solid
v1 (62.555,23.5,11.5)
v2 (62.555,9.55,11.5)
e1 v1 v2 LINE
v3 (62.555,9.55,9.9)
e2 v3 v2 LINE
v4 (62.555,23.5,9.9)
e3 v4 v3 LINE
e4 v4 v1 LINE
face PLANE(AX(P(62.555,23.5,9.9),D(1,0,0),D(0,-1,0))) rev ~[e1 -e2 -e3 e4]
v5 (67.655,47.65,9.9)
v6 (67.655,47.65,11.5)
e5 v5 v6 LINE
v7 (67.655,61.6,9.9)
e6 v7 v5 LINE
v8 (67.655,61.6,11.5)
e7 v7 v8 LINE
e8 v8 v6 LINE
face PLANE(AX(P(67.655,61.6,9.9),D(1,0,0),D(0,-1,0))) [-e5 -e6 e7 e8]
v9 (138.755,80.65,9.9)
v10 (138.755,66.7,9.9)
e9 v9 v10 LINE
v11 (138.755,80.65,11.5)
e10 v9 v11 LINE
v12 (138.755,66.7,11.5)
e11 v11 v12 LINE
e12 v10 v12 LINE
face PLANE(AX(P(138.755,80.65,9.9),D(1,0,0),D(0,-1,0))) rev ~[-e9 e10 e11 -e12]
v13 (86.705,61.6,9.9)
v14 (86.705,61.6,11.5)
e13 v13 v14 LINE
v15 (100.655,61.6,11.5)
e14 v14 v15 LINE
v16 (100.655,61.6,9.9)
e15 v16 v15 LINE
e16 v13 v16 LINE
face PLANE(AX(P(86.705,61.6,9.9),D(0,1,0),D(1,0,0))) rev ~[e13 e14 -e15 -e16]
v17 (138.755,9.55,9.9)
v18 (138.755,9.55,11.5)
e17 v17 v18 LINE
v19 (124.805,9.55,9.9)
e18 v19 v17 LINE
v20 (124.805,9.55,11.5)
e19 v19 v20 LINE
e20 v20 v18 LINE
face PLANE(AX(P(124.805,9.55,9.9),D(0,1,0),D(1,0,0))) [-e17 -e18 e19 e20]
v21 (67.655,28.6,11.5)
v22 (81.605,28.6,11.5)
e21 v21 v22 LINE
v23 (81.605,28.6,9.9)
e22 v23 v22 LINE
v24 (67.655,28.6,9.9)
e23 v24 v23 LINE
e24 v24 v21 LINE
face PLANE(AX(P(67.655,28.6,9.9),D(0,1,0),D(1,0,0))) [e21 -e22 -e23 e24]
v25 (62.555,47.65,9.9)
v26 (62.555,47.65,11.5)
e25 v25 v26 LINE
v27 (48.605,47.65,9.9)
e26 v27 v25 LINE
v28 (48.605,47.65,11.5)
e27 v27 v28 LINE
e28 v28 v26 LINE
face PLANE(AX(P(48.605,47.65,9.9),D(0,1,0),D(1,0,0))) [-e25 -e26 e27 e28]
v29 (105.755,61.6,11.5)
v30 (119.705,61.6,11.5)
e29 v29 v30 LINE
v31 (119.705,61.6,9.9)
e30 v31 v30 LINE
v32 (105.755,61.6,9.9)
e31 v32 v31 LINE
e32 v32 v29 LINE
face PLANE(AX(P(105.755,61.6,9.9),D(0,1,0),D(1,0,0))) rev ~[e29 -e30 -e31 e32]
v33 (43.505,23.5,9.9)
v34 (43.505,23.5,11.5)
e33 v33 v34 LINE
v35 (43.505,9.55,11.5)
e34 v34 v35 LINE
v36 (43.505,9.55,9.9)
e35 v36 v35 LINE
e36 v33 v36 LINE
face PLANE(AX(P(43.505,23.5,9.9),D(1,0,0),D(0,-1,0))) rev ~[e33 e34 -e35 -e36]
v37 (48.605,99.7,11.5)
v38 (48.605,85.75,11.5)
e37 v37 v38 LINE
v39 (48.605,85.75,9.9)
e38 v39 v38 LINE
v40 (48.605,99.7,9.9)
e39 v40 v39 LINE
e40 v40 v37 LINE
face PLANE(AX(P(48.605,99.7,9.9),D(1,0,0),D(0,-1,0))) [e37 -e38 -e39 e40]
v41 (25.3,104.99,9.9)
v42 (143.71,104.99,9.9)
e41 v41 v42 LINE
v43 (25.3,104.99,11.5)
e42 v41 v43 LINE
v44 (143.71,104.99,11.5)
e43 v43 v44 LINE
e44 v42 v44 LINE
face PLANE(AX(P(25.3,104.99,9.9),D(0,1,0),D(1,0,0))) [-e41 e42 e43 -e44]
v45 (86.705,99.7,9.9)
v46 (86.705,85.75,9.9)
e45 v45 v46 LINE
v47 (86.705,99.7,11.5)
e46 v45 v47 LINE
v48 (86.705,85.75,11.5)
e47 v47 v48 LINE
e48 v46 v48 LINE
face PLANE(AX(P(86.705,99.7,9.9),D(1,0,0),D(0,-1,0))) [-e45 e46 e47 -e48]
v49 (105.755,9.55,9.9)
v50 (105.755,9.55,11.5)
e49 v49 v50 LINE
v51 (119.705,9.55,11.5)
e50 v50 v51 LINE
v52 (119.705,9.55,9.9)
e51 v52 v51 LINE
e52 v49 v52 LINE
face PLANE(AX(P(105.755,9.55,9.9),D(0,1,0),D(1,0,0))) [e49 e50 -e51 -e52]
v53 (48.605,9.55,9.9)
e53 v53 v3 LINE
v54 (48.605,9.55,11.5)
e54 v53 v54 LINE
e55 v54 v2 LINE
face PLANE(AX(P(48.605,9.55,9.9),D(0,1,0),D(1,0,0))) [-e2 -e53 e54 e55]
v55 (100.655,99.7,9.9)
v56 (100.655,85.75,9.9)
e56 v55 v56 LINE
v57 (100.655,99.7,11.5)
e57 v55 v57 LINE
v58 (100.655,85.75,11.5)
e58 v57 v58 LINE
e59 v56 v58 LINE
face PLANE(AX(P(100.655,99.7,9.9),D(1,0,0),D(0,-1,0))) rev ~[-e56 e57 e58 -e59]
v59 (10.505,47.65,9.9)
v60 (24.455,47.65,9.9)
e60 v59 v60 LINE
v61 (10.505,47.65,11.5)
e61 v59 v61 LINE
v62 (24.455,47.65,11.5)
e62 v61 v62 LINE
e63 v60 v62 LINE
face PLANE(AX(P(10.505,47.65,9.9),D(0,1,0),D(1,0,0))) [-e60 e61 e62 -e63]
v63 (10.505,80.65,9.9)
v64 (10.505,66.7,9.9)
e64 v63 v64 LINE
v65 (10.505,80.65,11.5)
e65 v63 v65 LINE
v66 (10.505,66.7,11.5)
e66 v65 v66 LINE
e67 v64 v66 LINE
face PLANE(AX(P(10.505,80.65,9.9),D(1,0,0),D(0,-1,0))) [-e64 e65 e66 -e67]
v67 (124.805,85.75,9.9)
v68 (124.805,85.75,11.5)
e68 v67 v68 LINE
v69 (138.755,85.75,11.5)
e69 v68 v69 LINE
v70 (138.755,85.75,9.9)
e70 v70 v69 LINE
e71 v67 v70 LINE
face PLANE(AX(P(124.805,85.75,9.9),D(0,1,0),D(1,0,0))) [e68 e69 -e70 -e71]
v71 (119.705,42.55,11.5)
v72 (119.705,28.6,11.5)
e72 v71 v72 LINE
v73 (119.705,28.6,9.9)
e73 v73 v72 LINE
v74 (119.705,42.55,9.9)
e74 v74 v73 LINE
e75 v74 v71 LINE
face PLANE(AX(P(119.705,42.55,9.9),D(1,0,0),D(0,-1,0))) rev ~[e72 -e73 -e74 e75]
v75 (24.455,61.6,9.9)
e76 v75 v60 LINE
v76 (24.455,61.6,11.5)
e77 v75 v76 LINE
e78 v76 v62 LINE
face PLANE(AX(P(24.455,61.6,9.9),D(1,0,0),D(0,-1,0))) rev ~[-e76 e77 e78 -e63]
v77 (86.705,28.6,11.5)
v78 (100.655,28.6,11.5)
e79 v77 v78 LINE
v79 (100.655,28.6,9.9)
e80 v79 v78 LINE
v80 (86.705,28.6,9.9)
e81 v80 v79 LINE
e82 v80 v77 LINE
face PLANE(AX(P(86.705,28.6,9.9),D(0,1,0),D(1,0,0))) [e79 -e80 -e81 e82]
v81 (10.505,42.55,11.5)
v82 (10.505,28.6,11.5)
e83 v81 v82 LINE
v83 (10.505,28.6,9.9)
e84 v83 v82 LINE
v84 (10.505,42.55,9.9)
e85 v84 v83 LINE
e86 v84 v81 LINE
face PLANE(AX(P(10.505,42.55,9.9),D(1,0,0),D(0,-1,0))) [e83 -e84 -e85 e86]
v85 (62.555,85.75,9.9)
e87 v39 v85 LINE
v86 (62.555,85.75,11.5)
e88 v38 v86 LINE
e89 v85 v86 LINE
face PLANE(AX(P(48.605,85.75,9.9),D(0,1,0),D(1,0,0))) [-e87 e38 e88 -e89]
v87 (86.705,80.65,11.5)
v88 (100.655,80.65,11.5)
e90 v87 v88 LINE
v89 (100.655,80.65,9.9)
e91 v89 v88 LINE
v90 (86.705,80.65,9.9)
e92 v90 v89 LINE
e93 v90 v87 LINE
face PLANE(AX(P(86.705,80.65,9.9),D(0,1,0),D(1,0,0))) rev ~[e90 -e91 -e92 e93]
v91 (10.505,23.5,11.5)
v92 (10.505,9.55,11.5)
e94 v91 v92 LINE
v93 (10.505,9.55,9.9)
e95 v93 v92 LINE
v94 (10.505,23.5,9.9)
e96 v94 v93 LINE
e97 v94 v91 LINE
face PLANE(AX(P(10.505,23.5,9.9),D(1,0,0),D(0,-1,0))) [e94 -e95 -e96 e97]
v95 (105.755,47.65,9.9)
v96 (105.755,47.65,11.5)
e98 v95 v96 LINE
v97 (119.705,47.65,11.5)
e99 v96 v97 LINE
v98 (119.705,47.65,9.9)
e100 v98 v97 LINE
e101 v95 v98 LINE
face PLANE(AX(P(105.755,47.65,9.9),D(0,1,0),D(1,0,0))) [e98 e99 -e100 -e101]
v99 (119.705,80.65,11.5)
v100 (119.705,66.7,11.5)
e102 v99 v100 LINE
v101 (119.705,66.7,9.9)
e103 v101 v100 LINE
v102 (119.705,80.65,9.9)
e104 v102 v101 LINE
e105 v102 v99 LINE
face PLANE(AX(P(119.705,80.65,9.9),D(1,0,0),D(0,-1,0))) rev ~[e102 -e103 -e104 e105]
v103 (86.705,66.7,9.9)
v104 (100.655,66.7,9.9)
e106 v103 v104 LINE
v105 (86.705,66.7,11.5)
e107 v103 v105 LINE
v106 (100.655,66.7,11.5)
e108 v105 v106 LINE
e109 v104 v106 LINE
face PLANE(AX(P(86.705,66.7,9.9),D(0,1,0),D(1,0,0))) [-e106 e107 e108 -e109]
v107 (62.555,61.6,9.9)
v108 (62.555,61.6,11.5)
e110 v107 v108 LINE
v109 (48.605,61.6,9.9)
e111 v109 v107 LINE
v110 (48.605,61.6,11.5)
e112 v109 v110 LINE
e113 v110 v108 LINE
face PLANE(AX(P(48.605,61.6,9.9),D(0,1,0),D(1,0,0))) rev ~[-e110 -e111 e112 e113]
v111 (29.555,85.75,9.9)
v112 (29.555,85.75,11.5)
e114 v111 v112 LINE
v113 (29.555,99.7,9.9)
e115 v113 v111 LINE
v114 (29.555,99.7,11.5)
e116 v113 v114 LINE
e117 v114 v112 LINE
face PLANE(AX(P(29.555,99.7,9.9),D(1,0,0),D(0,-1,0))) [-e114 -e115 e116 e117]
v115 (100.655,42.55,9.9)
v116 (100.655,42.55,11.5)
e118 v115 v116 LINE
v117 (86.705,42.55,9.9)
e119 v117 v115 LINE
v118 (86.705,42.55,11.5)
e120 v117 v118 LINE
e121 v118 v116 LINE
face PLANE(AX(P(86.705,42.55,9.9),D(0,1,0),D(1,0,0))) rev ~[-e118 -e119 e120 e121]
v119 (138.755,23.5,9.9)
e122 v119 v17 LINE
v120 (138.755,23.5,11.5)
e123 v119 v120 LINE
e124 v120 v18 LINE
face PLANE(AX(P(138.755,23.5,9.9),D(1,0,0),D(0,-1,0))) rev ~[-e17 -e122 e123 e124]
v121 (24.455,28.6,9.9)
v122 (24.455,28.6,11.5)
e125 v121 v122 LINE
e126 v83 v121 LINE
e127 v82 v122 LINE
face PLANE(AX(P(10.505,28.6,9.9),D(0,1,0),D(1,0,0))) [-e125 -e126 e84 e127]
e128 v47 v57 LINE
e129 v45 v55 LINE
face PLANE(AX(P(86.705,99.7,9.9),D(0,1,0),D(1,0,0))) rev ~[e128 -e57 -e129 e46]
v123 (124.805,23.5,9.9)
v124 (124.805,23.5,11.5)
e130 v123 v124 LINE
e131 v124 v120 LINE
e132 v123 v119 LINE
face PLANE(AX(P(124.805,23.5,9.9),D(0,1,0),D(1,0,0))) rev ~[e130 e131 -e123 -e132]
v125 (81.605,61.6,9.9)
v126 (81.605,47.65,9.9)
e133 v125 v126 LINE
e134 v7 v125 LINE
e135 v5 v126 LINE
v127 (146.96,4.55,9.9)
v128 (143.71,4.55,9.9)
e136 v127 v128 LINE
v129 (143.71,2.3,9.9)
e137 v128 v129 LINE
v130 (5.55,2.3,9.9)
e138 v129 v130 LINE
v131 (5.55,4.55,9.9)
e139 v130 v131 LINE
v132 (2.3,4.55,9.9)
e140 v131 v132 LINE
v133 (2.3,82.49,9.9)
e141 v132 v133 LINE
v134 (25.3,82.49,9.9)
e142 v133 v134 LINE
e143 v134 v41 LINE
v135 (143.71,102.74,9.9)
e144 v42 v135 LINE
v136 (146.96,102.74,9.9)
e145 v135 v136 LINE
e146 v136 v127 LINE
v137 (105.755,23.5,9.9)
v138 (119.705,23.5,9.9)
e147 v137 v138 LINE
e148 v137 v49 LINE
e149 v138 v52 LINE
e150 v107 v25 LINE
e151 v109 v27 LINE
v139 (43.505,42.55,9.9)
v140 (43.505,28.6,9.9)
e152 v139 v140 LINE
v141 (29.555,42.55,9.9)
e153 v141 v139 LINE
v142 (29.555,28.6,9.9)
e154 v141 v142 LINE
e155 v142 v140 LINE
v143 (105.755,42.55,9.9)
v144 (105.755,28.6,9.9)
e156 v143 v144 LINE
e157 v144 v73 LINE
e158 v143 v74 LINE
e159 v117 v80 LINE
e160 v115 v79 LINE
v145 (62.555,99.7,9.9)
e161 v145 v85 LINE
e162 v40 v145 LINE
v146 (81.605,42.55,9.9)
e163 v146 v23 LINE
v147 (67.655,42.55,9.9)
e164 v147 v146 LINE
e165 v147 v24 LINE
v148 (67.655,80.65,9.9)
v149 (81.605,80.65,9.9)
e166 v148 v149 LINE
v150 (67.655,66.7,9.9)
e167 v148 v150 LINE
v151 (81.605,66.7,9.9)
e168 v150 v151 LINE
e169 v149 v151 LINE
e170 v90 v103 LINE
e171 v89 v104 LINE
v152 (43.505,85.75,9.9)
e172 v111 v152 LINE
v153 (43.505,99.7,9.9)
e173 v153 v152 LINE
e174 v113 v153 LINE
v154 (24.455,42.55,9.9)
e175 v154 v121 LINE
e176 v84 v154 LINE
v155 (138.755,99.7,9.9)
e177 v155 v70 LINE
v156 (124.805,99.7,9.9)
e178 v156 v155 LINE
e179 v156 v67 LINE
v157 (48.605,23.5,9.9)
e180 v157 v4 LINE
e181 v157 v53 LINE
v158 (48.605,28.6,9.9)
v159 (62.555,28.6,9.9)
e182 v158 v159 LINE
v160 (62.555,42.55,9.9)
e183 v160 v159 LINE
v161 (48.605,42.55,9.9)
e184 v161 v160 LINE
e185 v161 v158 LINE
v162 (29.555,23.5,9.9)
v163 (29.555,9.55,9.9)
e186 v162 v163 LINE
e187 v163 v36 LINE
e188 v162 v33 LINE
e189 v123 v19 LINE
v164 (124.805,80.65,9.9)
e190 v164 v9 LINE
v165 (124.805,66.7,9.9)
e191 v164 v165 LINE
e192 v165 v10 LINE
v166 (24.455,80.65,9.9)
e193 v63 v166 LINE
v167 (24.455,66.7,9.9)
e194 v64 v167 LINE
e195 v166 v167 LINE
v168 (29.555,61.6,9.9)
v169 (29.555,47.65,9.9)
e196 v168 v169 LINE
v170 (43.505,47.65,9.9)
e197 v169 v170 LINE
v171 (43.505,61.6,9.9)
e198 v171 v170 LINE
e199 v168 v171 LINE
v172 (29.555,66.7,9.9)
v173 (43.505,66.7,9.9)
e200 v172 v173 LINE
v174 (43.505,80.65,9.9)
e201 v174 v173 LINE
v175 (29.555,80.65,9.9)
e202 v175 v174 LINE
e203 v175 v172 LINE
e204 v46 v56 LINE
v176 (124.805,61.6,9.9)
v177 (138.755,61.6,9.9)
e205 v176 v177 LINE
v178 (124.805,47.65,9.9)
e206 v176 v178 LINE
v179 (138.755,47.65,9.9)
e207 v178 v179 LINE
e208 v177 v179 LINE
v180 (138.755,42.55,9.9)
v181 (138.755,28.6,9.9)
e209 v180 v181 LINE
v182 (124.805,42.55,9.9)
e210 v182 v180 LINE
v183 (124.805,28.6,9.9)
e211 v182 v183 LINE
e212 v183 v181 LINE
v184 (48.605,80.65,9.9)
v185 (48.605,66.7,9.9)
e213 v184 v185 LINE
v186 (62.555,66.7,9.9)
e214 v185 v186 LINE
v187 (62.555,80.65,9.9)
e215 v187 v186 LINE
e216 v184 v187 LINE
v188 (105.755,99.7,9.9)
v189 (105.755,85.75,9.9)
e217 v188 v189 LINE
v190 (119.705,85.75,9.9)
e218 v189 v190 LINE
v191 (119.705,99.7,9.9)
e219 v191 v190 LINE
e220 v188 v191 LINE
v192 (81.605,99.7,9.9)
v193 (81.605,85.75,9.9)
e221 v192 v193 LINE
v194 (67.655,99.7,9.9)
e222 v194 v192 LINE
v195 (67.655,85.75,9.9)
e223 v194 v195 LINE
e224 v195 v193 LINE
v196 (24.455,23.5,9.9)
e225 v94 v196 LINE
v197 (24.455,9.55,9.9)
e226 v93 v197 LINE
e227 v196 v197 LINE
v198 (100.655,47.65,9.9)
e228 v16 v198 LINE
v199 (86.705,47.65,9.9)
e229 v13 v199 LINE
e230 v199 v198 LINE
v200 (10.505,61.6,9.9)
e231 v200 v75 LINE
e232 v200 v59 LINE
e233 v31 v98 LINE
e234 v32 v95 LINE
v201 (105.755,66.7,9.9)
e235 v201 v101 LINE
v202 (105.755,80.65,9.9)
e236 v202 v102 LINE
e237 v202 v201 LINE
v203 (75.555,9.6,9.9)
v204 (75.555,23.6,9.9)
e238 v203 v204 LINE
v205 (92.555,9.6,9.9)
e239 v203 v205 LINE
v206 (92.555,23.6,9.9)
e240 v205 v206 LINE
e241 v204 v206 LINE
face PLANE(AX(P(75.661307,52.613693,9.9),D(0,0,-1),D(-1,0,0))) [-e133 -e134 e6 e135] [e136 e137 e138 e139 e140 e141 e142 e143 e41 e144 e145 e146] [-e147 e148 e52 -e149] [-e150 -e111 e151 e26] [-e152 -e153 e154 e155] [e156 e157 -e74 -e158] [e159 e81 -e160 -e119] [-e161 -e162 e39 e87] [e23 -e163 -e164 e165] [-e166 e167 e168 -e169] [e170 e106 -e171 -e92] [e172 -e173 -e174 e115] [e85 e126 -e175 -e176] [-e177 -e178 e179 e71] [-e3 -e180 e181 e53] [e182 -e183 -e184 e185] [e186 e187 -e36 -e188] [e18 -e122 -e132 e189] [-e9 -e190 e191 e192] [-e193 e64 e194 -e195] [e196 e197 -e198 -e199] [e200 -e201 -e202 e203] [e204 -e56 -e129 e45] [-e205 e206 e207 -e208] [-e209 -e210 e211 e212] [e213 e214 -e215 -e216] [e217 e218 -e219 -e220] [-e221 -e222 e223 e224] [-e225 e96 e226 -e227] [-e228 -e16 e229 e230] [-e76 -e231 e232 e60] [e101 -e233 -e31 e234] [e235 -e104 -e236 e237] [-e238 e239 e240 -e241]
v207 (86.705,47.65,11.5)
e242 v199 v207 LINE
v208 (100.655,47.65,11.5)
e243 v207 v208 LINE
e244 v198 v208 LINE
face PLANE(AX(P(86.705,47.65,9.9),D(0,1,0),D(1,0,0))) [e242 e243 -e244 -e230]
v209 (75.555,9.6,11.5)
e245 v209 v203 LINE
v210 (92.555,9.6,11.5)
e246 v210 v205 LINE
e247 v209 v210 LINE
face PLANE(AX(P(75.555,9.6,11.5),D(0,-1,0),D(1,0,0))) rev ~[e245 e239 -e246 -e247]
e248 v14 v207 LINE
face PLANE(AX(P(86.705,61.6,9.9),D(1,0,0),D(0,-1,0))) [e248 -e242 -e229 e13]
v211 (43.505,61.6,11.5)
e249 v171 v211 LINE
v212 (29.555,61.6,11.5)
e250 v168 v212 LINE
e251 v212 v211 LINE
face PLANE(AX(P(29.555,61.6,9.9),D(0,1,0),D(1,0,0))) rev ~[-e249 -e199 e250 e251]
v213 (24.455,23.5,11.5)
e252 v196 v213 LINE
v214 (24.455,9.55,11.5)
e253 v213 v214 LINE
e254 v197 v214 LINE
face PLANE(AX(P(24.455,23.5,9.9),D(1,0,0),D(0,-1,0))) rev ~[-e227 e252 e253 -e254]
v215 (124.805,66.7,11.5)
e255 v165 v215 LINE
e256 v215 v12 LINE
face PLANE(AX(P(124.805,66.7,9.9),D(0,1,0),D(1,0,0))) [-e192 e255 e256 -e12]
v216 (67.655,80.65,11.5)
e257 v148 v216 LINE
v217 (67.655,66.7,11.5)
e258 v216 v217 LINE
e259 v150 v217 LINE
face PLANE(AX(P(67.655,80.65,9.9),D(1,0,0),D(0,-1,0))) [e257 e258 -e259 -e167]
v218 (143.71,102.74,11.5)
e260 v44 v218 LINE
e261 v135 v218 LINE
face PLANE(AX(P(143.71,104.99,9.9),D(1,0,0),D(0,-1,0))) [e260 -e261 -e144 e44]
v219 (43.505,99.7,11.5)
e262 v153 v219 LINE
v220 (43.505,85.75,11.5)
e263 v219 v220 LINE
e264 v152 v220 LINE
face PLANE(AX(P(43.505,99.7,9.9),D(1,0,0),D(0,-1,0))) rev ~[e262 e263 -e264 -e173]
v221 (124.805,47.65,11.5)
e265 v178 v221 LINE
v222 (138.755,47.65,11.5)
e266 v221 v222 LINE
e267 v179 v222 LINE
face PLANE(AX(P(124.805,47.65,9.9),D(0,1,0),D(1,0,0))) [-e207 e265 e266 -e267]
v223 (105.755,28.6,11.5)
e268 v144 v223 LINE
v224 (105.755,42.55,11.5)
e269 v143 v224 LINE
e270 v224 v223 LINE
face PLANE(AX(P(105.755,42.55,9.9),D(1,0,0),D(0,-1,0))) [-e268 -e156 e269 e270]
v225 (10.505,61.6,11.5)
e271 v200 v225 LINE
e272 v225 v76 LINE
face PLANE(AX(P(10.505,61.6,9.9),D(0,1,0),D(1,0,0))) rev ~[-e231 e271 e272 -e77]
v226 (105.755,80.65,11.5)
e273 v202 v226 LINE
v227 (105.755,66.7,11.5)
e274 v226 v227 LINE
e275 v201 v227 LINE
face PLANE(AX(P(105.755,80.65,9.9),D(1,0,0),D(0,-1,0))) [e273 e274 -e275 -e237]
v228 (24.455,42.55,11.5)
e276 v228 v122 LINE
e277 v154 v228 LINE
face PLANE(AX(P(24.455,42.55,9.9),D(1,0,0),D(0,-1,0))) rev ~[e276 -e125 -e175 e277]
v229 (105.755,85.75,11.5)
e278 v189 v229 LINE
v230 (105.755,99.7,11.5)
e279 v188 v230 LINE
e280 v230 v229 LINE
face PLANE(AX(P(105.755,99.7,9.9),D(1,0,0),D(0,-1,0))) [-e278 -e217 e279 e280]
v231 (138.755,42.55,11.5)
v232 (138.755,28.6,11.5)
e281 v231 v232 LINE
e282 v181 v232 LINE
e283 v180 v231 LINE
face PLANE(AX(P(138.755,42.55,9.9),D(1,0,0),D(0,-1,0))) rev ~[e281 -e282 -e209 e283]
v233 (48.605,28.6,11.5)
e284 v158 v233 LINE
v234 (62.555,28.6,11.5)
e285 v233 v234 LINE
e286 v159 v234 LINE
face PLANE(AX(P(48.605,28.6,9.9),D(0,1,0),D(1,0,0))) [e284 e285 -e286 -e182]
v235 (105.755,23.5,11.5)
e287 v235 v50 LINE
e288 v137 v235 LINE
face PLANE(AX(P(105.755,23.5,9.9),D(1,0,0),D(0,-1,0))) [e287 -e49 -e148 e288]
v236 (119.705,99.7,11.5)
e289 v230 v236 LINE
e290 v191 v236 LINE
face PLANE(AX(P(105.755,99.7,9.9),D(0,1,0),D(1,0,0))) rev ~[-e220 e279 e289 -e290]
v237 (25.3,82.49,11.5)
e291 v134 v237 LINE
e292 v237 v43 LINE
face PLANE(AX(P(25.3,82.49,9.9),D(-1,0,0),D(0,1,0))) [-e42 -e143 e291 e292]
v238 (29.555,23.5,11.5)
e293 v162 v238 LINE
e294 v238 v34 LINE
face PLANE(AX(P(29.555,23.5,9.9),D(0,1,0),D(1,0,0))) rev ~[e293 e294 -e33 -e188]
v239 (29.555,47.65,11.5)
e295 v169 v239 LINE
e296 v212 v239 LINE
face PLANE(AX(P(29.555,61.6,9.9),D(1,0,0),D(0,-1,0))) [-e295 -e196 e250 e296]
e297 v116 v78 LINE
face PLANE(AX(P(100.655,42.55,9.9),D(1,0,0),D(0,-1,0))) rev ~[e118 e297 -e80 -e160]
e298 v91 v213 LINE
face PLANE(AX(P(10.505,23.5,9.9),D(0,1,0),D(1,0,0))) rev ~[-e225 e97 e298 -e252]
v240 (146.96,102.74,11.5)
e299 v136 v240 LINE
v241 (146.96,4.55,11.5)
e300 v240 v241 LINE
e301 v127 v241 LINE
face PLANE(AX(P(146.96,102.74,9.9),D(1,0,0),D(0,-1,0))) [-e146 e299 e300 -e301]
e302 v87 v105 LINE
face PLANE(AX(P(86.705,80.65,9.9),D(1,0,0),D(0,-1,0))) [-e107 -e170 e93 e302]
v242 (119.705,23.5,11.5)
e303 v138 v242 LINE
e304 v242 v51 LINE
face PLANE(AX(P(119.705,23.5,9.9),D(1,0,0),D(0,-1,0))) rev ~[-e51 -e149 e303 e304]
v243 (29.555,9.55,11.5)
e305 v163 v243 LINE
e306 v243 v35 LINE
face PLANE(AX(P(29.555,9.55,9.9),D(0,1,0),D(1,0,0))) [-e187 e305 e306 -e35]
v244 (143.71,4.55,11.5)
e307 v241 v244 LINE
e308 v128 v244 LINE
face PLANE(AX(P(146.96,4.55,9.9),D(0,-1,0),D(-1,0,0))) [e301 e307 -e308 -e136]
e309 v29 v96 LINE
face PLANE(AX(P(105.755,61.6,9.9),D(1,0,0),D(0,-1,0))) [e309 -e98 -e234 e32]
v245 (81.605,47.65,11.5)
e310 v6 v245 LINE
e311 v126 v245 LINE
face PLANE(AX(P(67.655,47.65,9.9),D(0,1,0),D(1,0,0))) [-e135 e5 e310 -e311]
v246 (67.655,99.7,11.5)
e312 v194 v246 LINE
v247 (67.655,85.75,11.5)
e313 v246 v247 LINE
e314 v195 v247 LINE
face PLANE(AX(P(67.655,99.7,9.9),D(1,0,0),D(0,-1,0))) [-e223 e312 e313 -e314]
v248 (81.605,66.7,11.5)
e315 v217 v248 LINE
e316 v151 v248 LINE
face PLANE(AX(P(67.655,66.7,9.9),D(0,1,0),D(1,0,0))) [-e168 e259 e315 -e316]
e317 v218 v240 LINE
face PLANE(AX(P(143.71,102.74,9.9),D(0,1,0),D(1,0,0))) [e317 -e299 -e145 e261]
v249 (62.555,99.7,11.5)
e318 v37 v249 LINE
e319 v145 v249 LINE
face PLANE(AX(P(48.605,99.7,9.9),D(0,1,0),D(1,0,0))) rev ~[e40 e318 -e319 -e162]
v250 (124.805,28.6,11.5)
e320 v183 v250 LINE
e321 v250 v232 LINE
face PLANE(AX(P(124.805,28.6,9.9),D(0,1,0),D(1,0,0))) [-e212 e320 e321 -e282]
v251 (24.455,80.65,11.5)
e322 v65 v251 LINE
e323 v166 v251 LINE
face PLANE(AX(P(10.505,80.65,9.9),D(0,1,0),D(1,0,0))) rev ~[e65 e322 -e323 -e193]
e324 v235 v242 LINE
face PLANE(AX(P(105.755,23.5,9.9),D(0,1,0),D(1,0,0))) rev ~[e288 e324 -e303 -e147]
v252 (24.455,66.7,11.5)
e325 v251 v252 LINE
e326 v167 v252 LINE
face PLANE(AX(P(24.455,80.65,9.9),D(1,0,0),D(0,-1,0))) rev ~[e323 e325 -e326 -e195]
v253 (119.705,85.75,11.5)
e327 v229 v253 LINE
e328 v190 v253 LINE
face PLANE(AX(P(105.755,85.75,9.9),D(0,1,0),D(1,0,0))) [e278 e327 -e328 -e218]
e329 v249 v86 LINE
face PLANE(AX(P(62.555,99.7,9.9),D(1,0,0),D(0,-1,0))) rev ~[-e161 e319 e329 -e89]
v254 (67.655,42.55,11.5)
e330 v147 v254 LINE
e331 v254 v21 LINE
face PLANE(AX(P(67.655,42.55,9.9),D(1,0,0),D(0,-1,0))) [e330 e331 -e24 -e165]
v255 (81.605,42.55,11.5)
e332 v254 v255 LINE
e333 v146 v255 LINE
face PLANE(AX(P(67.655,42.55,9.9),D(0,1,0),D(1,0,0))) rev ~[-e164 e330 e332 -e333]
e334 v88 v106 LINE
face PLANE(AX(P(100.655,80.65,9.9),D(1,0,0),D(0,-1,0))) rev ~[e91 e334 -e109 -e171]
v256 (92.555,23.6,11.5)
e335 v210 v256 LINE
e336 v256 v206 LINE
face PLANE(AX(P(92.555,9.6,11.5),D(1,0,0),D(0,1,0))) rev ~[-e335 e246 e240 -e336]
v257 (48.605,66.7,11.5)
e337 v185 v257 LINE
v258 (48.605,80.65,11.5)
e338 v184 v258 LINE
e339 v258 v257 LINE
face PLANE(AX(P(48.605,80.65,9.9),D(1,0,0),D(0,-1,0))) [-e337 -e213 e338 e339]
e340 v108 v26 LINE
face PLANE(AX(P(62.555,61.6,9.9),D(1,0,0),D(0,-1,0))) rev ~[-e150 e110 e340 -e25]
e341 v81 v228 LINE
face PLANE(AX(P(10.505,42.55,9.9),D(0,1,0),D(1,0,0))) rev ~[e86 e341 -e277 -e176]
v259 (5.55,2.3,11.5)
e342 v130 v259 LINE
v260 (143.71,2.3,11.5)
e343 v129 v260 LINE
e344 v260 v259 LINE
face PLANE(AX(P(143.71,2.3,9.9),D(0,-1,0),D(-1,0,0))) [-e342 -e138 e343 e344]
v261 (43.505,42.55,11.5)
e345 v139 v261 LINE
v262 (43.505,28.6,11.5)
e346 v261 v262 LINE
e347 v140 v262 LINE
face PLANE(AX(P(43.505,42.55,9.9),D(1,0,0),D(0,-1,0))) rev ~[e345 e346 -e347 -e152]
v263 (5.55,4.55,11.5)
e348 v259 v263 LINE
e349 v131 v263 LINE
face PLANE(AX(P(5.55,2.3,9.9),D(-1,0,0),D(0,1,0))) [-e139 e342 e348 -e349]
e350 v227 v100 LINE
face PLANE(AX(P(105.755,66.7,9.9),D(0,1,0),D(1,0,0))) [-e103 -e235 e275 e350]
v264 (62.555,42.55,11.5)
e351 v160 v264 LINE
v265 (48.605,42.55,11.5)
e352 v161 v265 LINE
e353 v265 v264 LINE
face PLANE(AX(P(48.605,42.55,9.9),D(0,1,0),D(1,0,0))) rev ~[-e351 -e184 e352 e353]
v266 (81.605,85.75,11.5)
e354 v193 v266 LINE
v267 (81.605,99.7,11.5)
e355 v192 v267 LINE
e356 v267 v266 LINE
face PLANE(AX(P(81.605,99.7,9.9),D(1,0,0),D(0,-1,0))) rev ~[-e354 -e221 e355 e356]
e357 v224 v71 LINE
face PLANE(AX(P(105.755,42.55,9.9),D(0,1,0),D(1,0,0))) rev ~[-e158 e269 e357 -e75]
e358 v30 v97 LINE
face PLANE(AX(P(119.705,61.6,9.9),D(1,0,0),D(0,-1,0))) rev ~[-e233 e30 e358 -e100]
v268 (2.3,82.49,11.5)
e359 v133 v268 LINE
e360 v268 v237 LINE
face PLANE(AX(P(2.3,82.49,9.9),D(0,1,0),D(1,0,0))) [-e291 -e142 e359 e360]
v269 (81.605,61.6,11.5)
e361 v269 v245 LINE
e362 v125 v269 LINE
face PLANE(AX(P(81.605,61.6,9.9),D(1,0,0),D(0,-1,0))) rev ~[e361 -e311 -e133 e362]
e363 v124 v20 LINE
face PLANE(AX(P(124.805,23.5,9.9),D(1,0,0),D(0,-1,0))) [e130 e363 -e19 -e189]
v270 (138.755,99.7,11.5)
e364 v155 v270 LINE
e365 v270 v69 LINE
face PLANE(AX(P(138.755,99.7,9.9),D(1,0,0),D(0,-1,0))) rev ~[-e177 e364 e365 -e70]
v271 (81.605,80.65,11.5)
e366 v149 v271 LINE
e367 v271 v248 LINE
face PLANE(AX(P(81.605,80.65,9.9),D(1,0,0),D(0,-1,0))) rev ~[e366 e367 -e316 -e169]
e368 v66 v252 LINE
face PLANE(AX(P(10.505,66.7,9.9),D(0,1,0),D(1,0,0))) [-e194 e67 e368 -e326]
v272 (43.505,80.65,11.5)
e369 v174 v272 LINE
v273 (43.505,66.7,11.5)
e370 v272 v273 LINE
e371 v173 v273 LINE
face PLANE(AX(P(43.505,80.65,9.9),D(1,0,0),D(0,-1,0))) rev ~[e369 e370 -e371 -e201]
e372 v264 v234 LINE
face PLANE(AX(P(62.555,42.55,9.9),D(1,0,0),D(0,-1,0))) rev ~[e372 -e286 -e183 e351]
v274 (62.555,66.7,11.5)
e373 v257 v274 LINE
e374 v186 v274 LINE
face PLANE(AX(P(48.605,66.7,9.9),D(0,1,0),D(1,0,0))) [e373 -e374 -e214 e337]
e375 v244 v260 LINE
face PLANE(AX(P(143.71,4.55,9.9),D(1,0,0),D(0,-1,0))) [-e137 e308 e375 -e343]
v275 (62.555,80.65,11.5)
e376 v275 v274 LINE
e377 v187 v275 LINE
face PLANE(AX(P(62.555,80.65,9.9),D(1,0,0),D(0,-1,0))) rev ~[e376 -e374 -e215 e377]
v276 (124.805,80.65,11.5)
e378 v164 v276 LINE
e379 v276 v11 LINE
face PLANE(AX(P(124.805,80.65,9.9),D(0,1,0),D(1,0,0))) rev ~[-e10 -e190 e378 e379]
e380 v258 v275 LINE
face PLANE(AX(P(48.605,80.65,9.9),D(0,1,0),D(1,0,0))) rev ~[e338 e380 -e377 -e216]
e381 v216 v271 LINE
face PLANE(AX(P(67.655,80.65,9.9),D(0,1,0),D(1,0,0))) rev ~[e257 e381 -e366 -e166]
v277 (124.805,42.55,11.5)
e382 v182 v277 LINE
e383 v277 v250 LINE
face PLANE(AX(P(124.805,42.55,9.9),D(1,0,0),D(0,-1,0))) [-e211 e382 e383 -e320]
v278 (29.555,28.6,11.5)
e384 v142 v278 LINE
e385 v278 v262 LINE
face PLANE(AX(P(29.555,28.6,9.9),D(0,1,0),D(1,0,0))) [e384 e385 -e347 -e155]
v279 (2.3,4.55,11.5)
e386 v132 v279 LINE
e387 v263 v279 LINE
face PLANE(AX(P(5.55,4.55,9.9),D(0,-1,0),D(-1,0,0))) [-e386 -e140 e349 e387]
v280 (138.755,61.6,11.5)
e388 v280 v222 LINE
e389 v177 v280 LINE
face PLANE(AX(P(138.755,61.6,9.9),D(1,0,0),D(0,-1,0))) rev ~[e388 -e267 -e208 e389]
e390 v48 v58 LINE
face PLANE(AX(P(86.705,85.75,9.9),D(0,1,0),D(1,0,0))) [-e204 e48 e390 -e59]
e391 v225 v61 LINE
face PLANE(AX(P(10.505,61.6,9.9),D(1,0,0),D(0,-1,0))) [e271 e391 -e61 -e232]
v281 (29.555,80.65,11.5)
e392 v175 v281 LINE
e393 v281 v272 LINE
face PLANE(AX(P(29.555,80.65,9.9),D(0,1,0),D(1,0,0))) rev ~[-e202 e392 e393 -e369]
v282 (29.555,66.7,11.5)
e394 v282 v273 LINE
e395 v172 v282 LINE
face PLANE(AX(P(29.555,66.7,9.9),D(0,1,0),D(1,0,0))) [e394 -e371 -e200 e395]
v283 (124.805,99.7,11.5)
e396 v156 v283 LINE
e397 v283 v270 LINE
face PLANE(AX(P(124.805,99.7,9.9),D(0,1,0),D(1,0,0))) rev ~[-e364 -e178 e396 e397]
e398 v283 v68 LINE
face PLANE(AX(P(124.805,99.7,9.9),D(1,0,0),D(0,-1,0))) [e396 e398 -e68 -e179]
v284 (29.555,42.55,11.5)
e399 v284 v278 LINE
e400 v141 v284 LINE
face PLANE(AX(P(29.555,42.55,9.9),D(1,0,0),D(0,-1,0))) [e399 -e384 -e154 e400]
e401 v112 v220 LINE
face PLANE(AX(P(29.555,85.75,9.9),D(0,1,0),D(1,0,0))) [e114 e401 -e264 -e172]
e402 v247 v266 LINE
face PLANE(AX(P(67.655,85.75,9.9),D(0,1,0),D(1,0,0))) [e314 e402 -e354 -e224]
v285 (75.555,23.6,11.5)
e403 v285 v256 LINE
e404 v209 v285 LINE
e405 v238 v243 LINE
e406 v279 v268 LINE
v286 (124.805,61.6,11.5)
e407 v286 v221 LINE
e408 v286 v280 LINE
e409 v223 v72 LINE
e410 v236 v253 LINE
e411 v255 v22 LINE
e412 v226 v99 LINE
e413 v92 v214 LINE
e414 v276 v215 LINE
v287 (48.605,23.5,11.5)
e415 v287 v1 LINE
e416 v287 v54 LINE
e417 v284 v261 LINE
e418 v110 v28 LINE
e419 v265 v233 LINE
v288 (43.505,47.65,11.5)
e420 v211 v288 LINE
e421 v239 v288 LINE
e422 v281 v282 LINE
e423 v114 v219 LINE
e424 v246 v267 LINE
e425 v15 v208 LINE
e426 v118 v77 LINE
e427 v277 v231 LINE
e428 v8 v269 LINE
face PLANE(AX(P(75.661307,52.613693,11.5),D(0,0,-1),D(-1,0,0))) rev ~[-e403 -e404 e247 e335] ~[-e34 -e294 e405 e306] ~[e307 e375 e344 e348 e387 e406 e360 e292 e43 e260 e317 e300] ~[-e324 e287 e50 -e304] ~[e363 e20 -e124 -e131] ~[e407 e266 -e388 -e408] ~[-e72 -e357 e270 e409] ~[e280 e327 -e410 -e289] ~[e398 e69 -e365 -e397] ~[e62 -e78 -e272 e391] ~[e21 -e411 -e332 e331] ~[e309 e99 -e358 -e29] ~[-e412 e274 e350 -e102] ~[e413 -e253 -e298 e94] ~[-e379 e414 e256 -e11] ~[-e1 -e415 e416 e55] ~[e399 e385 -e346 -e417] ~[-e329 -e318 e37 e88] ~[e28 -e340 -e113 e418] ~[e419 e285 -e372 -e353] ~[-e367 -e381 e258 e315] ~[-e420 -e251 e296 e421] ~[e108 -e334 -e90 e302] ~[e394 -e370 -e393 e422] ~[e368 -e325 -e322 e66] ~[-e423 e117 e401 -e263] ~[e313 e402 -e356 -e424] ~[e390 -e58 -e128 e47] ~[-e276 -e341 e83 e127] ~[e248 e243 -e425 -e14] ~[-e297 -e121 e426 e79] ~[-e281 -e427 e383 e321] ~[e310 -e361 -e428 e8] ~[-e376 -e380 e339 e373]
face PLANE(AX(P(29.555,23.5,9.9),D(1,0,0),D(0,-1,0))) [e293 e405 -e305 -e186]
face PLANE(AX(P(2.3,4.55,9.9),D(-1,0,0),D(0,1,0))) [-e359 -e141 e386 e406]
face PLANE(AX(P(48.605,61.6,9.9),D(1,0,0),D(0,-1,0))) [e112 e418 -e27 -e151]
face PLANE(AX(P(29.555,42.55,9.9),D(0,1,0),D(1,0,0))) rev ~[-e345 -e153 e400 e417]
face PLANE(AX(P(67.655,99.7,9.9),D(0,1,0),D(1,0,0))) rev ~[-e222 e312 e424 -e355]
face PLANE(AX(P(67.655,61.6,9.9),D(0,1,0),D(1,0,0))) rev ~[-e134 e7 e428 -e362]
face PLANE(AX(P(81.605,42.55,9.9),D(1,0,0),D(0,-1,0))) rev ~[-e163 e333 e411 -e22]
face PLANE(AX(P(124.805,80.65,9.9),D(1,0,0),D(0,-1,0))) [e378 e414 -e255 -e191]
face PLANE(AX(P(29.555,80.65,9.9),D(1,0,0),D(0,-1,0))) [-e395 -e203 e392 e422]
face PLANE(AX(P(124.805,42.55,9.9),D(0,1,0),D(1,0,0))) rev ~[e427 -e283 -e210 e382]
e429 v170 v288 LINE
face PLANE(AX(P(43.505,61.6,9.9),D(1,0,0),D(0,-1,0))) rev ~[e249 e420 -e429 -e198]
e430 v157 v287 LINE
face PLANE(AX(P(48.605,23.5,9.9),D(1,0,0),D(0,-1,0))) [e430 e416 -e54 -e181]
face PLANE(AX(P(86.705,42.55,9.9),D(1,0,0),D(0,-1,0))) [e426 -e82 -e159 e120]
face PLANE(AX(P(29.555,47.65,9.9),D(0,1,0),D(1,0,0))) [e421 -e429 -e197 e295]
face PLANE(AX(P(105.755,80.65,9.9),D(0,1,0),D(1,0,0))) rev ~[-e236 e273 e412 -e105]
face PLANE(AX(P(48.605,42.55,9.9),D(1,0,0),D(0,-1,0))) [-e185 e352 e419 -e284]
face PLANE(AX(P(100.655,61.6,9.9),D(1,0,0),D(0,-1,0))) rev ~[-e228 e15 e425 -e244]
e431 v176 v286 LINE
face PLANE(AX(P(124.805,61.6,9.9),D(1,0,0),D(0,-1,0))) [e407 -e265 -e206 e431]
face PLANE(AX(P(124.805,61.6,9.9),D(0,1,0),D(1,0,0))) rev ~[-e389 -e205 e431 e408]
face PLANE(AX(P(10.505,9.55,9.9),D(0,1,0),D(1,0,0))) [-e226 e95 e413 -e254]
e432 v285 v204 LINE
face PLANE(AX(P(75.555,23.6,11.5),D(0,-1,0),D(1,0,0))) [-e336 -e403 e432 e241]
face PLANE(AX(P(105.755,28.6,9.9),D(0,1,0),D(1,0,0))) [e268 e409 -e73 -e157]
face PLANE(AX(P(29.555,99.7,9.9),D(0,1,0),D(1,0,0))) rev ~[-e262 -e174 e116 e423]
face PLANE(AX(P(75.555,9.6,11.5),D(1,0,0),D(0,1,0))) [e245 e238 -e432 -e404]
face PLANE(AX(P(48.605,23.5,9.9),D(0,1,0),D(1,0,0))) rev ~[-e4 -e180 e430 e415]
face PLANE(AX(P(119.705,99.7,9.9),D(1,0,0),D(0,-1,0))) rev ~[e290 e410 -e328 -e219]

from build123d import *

# Parameters (mm, degrees)
PAD004_DEPTH    = 1.6
SKETCH010_W     = 13.95
SKETCH010_H     = 13.95
POCKET004_DEPTH = 1.6
SKETCH013_W     = 17
SKETCH013_H     = 14
POCKET005_DEPTH = 1.6


with BuildPart() as part:
    # Sketch008 → Pad004 (new body)
    with BuildSketch(Plane.XY.offset(9.9)):
        Polygon((25.3, 104.99), (143.71, 104.99), (143.71, 102.74), (146.96, 102.74), (146.96, 4.55), (143.71, 4.55), (143.71, 2.3), (5.55, 2.3), (5.55, 4.55), (2.3, 4.55), (2.3, 82.49), (25.3, 82.49), align=None)
    extrude(amount=PAD004_DEPTH)

    # Sketch010 (on Face13 of Pad004) → Pocket004 (cut)
    with BuildSketch(Plane(origin=(0, 0, 9.9), x_dir=(1, 0, 0), z_dir=(0, 0, -1))):
        with Locations((131.78, -16.525)):
            Rectangle(SKETCH010_W, SKETCH010_H)
        with Locations((55.58, -16.525)):
            Rectangle(SKETCH010_W, SKETCH010_H)
        with Locations((36.53, -16.525)):
            Rectangle(SKETCH010_W, SKETCH010_H)
        with Locations((17.48, -16.525)):
            Rectangle(SKETCH010_W, SKETCH010_H)
        with Locations((131.78, -35.575)):
            Rectangle(SKETCH010_W, SKETCH010_H)
        with Locations((112.73, -35.575)):
            Rectangle(SKETCH010_W, SKETCH010_H)
        with Locations((93.68, -35.575)):
            Rectangle(SKETCH010_W, SKETCH010_H)
        with Locations((74.63, -35.575)):
            Rectangle(SKETCH010_W, SKETCH010_H)
        with Locations((55.58, -35.575)):
            Rectangle(SKETCH010_W, SKETCH010_H)
        with Locations((36.53, -35.575)):
            Rectangle(SKETCH010_W, SKETCH010_H)
        with Locations((17.48, -35.575)):
            Rectangle(SKETCH010_W, SKETCH010_H)
        with Locations((131.78, -54.625)):
            Rectangle(SKETCH010_W, SKETCH010_H)
        with Locations((112.73, -54.625)):
            Rectangle(SKETCH010_W, SKETCH010_H)
        with Locations((93.68, -54.625)):
            Rectangle(SKETCH010_W, SKETCH010_H)
        with Locations((74.63, -54.625)):
            Rectangle(SKETCH010_W, SKETCH010_H)
        with Locations((55.58, -54.625)):
            Rectangle(SKETCH010_W, SKETCH010_H)
        with Locations((36.53, -54.625)):
            Rectangle(SKETCH010_W, SKETCH010_H)
        with Locations((17.48, -54.625)):
            Rectangle(SKETCH010_W, SKETCH010_H)
        with Locations((131.78, -73.675)):
            Rectangle(SKETCH010_W, SKETCH010_H)
        with Locations((112.73, -73.675)):
            Rectangle(SKETCH010_W, SKETCH010_H)
        with Locations((93.68, -73.675)):
            Rectangle(SKETCH010_W, SKETCH010_H)
        with Locations((74.63, -73.675)):
            Rectangle(SKETCH010_W, SKETCH010_H)
        with Locations((55.58, -73.675)):
            Rectangle(SKETCH010_W, SKETCH010_H)
        with Locations((36.53, -73.675)):
            Rectangle(SKETCH010_W, SKETCH010_H)
        with Locations((17.48, -73.675)):
            Rectangle(SKETCH010_W, SKETCH010_H)
        with Locations((131.78, -92.725)):
            Rectangle(SKETCH010_W, SKETCH010_H)
        with Locations((112.73, -92.725)):
            Rectangle(SKETCH010_W, SKETCH010_H)
        with Locations((93.68, -92.725)):
            Rectangle(SKETCH010_W, SKETCH010_H)
        with Locations((74.63, -92.725)):
            Rectangle(SKETCH010_W, SKETCH010_H)
        with Locations((55.58, -92.725)):
            Rectangle(SKETCH010_W, SKETCH010_H)
        with Locations((36.53, -92.725)):
            Rectangle(SKETCH010_W, SKETCH010_H)
        with Locations((112.73, -16.525)):
            Rectangle(SKETCH010_W, SKETCH010_H)
    extrude(amount=-POCKET004_DEPTH, mode=Mode.SUBTRACT)

    # Sketch013 (on Face5 of Pocket004) → Pocket005 (cut)
    with BuildSketch(Plane.XY.offset(11.5)):
        with Locations((84.055, 16.6)):
            Rectangle(SKETCH013_W, SKETCH013_H)
    extrude(amount=-POCKET005_DEPTH, mode=Mode.SUBTRACT)


solid = part.part
